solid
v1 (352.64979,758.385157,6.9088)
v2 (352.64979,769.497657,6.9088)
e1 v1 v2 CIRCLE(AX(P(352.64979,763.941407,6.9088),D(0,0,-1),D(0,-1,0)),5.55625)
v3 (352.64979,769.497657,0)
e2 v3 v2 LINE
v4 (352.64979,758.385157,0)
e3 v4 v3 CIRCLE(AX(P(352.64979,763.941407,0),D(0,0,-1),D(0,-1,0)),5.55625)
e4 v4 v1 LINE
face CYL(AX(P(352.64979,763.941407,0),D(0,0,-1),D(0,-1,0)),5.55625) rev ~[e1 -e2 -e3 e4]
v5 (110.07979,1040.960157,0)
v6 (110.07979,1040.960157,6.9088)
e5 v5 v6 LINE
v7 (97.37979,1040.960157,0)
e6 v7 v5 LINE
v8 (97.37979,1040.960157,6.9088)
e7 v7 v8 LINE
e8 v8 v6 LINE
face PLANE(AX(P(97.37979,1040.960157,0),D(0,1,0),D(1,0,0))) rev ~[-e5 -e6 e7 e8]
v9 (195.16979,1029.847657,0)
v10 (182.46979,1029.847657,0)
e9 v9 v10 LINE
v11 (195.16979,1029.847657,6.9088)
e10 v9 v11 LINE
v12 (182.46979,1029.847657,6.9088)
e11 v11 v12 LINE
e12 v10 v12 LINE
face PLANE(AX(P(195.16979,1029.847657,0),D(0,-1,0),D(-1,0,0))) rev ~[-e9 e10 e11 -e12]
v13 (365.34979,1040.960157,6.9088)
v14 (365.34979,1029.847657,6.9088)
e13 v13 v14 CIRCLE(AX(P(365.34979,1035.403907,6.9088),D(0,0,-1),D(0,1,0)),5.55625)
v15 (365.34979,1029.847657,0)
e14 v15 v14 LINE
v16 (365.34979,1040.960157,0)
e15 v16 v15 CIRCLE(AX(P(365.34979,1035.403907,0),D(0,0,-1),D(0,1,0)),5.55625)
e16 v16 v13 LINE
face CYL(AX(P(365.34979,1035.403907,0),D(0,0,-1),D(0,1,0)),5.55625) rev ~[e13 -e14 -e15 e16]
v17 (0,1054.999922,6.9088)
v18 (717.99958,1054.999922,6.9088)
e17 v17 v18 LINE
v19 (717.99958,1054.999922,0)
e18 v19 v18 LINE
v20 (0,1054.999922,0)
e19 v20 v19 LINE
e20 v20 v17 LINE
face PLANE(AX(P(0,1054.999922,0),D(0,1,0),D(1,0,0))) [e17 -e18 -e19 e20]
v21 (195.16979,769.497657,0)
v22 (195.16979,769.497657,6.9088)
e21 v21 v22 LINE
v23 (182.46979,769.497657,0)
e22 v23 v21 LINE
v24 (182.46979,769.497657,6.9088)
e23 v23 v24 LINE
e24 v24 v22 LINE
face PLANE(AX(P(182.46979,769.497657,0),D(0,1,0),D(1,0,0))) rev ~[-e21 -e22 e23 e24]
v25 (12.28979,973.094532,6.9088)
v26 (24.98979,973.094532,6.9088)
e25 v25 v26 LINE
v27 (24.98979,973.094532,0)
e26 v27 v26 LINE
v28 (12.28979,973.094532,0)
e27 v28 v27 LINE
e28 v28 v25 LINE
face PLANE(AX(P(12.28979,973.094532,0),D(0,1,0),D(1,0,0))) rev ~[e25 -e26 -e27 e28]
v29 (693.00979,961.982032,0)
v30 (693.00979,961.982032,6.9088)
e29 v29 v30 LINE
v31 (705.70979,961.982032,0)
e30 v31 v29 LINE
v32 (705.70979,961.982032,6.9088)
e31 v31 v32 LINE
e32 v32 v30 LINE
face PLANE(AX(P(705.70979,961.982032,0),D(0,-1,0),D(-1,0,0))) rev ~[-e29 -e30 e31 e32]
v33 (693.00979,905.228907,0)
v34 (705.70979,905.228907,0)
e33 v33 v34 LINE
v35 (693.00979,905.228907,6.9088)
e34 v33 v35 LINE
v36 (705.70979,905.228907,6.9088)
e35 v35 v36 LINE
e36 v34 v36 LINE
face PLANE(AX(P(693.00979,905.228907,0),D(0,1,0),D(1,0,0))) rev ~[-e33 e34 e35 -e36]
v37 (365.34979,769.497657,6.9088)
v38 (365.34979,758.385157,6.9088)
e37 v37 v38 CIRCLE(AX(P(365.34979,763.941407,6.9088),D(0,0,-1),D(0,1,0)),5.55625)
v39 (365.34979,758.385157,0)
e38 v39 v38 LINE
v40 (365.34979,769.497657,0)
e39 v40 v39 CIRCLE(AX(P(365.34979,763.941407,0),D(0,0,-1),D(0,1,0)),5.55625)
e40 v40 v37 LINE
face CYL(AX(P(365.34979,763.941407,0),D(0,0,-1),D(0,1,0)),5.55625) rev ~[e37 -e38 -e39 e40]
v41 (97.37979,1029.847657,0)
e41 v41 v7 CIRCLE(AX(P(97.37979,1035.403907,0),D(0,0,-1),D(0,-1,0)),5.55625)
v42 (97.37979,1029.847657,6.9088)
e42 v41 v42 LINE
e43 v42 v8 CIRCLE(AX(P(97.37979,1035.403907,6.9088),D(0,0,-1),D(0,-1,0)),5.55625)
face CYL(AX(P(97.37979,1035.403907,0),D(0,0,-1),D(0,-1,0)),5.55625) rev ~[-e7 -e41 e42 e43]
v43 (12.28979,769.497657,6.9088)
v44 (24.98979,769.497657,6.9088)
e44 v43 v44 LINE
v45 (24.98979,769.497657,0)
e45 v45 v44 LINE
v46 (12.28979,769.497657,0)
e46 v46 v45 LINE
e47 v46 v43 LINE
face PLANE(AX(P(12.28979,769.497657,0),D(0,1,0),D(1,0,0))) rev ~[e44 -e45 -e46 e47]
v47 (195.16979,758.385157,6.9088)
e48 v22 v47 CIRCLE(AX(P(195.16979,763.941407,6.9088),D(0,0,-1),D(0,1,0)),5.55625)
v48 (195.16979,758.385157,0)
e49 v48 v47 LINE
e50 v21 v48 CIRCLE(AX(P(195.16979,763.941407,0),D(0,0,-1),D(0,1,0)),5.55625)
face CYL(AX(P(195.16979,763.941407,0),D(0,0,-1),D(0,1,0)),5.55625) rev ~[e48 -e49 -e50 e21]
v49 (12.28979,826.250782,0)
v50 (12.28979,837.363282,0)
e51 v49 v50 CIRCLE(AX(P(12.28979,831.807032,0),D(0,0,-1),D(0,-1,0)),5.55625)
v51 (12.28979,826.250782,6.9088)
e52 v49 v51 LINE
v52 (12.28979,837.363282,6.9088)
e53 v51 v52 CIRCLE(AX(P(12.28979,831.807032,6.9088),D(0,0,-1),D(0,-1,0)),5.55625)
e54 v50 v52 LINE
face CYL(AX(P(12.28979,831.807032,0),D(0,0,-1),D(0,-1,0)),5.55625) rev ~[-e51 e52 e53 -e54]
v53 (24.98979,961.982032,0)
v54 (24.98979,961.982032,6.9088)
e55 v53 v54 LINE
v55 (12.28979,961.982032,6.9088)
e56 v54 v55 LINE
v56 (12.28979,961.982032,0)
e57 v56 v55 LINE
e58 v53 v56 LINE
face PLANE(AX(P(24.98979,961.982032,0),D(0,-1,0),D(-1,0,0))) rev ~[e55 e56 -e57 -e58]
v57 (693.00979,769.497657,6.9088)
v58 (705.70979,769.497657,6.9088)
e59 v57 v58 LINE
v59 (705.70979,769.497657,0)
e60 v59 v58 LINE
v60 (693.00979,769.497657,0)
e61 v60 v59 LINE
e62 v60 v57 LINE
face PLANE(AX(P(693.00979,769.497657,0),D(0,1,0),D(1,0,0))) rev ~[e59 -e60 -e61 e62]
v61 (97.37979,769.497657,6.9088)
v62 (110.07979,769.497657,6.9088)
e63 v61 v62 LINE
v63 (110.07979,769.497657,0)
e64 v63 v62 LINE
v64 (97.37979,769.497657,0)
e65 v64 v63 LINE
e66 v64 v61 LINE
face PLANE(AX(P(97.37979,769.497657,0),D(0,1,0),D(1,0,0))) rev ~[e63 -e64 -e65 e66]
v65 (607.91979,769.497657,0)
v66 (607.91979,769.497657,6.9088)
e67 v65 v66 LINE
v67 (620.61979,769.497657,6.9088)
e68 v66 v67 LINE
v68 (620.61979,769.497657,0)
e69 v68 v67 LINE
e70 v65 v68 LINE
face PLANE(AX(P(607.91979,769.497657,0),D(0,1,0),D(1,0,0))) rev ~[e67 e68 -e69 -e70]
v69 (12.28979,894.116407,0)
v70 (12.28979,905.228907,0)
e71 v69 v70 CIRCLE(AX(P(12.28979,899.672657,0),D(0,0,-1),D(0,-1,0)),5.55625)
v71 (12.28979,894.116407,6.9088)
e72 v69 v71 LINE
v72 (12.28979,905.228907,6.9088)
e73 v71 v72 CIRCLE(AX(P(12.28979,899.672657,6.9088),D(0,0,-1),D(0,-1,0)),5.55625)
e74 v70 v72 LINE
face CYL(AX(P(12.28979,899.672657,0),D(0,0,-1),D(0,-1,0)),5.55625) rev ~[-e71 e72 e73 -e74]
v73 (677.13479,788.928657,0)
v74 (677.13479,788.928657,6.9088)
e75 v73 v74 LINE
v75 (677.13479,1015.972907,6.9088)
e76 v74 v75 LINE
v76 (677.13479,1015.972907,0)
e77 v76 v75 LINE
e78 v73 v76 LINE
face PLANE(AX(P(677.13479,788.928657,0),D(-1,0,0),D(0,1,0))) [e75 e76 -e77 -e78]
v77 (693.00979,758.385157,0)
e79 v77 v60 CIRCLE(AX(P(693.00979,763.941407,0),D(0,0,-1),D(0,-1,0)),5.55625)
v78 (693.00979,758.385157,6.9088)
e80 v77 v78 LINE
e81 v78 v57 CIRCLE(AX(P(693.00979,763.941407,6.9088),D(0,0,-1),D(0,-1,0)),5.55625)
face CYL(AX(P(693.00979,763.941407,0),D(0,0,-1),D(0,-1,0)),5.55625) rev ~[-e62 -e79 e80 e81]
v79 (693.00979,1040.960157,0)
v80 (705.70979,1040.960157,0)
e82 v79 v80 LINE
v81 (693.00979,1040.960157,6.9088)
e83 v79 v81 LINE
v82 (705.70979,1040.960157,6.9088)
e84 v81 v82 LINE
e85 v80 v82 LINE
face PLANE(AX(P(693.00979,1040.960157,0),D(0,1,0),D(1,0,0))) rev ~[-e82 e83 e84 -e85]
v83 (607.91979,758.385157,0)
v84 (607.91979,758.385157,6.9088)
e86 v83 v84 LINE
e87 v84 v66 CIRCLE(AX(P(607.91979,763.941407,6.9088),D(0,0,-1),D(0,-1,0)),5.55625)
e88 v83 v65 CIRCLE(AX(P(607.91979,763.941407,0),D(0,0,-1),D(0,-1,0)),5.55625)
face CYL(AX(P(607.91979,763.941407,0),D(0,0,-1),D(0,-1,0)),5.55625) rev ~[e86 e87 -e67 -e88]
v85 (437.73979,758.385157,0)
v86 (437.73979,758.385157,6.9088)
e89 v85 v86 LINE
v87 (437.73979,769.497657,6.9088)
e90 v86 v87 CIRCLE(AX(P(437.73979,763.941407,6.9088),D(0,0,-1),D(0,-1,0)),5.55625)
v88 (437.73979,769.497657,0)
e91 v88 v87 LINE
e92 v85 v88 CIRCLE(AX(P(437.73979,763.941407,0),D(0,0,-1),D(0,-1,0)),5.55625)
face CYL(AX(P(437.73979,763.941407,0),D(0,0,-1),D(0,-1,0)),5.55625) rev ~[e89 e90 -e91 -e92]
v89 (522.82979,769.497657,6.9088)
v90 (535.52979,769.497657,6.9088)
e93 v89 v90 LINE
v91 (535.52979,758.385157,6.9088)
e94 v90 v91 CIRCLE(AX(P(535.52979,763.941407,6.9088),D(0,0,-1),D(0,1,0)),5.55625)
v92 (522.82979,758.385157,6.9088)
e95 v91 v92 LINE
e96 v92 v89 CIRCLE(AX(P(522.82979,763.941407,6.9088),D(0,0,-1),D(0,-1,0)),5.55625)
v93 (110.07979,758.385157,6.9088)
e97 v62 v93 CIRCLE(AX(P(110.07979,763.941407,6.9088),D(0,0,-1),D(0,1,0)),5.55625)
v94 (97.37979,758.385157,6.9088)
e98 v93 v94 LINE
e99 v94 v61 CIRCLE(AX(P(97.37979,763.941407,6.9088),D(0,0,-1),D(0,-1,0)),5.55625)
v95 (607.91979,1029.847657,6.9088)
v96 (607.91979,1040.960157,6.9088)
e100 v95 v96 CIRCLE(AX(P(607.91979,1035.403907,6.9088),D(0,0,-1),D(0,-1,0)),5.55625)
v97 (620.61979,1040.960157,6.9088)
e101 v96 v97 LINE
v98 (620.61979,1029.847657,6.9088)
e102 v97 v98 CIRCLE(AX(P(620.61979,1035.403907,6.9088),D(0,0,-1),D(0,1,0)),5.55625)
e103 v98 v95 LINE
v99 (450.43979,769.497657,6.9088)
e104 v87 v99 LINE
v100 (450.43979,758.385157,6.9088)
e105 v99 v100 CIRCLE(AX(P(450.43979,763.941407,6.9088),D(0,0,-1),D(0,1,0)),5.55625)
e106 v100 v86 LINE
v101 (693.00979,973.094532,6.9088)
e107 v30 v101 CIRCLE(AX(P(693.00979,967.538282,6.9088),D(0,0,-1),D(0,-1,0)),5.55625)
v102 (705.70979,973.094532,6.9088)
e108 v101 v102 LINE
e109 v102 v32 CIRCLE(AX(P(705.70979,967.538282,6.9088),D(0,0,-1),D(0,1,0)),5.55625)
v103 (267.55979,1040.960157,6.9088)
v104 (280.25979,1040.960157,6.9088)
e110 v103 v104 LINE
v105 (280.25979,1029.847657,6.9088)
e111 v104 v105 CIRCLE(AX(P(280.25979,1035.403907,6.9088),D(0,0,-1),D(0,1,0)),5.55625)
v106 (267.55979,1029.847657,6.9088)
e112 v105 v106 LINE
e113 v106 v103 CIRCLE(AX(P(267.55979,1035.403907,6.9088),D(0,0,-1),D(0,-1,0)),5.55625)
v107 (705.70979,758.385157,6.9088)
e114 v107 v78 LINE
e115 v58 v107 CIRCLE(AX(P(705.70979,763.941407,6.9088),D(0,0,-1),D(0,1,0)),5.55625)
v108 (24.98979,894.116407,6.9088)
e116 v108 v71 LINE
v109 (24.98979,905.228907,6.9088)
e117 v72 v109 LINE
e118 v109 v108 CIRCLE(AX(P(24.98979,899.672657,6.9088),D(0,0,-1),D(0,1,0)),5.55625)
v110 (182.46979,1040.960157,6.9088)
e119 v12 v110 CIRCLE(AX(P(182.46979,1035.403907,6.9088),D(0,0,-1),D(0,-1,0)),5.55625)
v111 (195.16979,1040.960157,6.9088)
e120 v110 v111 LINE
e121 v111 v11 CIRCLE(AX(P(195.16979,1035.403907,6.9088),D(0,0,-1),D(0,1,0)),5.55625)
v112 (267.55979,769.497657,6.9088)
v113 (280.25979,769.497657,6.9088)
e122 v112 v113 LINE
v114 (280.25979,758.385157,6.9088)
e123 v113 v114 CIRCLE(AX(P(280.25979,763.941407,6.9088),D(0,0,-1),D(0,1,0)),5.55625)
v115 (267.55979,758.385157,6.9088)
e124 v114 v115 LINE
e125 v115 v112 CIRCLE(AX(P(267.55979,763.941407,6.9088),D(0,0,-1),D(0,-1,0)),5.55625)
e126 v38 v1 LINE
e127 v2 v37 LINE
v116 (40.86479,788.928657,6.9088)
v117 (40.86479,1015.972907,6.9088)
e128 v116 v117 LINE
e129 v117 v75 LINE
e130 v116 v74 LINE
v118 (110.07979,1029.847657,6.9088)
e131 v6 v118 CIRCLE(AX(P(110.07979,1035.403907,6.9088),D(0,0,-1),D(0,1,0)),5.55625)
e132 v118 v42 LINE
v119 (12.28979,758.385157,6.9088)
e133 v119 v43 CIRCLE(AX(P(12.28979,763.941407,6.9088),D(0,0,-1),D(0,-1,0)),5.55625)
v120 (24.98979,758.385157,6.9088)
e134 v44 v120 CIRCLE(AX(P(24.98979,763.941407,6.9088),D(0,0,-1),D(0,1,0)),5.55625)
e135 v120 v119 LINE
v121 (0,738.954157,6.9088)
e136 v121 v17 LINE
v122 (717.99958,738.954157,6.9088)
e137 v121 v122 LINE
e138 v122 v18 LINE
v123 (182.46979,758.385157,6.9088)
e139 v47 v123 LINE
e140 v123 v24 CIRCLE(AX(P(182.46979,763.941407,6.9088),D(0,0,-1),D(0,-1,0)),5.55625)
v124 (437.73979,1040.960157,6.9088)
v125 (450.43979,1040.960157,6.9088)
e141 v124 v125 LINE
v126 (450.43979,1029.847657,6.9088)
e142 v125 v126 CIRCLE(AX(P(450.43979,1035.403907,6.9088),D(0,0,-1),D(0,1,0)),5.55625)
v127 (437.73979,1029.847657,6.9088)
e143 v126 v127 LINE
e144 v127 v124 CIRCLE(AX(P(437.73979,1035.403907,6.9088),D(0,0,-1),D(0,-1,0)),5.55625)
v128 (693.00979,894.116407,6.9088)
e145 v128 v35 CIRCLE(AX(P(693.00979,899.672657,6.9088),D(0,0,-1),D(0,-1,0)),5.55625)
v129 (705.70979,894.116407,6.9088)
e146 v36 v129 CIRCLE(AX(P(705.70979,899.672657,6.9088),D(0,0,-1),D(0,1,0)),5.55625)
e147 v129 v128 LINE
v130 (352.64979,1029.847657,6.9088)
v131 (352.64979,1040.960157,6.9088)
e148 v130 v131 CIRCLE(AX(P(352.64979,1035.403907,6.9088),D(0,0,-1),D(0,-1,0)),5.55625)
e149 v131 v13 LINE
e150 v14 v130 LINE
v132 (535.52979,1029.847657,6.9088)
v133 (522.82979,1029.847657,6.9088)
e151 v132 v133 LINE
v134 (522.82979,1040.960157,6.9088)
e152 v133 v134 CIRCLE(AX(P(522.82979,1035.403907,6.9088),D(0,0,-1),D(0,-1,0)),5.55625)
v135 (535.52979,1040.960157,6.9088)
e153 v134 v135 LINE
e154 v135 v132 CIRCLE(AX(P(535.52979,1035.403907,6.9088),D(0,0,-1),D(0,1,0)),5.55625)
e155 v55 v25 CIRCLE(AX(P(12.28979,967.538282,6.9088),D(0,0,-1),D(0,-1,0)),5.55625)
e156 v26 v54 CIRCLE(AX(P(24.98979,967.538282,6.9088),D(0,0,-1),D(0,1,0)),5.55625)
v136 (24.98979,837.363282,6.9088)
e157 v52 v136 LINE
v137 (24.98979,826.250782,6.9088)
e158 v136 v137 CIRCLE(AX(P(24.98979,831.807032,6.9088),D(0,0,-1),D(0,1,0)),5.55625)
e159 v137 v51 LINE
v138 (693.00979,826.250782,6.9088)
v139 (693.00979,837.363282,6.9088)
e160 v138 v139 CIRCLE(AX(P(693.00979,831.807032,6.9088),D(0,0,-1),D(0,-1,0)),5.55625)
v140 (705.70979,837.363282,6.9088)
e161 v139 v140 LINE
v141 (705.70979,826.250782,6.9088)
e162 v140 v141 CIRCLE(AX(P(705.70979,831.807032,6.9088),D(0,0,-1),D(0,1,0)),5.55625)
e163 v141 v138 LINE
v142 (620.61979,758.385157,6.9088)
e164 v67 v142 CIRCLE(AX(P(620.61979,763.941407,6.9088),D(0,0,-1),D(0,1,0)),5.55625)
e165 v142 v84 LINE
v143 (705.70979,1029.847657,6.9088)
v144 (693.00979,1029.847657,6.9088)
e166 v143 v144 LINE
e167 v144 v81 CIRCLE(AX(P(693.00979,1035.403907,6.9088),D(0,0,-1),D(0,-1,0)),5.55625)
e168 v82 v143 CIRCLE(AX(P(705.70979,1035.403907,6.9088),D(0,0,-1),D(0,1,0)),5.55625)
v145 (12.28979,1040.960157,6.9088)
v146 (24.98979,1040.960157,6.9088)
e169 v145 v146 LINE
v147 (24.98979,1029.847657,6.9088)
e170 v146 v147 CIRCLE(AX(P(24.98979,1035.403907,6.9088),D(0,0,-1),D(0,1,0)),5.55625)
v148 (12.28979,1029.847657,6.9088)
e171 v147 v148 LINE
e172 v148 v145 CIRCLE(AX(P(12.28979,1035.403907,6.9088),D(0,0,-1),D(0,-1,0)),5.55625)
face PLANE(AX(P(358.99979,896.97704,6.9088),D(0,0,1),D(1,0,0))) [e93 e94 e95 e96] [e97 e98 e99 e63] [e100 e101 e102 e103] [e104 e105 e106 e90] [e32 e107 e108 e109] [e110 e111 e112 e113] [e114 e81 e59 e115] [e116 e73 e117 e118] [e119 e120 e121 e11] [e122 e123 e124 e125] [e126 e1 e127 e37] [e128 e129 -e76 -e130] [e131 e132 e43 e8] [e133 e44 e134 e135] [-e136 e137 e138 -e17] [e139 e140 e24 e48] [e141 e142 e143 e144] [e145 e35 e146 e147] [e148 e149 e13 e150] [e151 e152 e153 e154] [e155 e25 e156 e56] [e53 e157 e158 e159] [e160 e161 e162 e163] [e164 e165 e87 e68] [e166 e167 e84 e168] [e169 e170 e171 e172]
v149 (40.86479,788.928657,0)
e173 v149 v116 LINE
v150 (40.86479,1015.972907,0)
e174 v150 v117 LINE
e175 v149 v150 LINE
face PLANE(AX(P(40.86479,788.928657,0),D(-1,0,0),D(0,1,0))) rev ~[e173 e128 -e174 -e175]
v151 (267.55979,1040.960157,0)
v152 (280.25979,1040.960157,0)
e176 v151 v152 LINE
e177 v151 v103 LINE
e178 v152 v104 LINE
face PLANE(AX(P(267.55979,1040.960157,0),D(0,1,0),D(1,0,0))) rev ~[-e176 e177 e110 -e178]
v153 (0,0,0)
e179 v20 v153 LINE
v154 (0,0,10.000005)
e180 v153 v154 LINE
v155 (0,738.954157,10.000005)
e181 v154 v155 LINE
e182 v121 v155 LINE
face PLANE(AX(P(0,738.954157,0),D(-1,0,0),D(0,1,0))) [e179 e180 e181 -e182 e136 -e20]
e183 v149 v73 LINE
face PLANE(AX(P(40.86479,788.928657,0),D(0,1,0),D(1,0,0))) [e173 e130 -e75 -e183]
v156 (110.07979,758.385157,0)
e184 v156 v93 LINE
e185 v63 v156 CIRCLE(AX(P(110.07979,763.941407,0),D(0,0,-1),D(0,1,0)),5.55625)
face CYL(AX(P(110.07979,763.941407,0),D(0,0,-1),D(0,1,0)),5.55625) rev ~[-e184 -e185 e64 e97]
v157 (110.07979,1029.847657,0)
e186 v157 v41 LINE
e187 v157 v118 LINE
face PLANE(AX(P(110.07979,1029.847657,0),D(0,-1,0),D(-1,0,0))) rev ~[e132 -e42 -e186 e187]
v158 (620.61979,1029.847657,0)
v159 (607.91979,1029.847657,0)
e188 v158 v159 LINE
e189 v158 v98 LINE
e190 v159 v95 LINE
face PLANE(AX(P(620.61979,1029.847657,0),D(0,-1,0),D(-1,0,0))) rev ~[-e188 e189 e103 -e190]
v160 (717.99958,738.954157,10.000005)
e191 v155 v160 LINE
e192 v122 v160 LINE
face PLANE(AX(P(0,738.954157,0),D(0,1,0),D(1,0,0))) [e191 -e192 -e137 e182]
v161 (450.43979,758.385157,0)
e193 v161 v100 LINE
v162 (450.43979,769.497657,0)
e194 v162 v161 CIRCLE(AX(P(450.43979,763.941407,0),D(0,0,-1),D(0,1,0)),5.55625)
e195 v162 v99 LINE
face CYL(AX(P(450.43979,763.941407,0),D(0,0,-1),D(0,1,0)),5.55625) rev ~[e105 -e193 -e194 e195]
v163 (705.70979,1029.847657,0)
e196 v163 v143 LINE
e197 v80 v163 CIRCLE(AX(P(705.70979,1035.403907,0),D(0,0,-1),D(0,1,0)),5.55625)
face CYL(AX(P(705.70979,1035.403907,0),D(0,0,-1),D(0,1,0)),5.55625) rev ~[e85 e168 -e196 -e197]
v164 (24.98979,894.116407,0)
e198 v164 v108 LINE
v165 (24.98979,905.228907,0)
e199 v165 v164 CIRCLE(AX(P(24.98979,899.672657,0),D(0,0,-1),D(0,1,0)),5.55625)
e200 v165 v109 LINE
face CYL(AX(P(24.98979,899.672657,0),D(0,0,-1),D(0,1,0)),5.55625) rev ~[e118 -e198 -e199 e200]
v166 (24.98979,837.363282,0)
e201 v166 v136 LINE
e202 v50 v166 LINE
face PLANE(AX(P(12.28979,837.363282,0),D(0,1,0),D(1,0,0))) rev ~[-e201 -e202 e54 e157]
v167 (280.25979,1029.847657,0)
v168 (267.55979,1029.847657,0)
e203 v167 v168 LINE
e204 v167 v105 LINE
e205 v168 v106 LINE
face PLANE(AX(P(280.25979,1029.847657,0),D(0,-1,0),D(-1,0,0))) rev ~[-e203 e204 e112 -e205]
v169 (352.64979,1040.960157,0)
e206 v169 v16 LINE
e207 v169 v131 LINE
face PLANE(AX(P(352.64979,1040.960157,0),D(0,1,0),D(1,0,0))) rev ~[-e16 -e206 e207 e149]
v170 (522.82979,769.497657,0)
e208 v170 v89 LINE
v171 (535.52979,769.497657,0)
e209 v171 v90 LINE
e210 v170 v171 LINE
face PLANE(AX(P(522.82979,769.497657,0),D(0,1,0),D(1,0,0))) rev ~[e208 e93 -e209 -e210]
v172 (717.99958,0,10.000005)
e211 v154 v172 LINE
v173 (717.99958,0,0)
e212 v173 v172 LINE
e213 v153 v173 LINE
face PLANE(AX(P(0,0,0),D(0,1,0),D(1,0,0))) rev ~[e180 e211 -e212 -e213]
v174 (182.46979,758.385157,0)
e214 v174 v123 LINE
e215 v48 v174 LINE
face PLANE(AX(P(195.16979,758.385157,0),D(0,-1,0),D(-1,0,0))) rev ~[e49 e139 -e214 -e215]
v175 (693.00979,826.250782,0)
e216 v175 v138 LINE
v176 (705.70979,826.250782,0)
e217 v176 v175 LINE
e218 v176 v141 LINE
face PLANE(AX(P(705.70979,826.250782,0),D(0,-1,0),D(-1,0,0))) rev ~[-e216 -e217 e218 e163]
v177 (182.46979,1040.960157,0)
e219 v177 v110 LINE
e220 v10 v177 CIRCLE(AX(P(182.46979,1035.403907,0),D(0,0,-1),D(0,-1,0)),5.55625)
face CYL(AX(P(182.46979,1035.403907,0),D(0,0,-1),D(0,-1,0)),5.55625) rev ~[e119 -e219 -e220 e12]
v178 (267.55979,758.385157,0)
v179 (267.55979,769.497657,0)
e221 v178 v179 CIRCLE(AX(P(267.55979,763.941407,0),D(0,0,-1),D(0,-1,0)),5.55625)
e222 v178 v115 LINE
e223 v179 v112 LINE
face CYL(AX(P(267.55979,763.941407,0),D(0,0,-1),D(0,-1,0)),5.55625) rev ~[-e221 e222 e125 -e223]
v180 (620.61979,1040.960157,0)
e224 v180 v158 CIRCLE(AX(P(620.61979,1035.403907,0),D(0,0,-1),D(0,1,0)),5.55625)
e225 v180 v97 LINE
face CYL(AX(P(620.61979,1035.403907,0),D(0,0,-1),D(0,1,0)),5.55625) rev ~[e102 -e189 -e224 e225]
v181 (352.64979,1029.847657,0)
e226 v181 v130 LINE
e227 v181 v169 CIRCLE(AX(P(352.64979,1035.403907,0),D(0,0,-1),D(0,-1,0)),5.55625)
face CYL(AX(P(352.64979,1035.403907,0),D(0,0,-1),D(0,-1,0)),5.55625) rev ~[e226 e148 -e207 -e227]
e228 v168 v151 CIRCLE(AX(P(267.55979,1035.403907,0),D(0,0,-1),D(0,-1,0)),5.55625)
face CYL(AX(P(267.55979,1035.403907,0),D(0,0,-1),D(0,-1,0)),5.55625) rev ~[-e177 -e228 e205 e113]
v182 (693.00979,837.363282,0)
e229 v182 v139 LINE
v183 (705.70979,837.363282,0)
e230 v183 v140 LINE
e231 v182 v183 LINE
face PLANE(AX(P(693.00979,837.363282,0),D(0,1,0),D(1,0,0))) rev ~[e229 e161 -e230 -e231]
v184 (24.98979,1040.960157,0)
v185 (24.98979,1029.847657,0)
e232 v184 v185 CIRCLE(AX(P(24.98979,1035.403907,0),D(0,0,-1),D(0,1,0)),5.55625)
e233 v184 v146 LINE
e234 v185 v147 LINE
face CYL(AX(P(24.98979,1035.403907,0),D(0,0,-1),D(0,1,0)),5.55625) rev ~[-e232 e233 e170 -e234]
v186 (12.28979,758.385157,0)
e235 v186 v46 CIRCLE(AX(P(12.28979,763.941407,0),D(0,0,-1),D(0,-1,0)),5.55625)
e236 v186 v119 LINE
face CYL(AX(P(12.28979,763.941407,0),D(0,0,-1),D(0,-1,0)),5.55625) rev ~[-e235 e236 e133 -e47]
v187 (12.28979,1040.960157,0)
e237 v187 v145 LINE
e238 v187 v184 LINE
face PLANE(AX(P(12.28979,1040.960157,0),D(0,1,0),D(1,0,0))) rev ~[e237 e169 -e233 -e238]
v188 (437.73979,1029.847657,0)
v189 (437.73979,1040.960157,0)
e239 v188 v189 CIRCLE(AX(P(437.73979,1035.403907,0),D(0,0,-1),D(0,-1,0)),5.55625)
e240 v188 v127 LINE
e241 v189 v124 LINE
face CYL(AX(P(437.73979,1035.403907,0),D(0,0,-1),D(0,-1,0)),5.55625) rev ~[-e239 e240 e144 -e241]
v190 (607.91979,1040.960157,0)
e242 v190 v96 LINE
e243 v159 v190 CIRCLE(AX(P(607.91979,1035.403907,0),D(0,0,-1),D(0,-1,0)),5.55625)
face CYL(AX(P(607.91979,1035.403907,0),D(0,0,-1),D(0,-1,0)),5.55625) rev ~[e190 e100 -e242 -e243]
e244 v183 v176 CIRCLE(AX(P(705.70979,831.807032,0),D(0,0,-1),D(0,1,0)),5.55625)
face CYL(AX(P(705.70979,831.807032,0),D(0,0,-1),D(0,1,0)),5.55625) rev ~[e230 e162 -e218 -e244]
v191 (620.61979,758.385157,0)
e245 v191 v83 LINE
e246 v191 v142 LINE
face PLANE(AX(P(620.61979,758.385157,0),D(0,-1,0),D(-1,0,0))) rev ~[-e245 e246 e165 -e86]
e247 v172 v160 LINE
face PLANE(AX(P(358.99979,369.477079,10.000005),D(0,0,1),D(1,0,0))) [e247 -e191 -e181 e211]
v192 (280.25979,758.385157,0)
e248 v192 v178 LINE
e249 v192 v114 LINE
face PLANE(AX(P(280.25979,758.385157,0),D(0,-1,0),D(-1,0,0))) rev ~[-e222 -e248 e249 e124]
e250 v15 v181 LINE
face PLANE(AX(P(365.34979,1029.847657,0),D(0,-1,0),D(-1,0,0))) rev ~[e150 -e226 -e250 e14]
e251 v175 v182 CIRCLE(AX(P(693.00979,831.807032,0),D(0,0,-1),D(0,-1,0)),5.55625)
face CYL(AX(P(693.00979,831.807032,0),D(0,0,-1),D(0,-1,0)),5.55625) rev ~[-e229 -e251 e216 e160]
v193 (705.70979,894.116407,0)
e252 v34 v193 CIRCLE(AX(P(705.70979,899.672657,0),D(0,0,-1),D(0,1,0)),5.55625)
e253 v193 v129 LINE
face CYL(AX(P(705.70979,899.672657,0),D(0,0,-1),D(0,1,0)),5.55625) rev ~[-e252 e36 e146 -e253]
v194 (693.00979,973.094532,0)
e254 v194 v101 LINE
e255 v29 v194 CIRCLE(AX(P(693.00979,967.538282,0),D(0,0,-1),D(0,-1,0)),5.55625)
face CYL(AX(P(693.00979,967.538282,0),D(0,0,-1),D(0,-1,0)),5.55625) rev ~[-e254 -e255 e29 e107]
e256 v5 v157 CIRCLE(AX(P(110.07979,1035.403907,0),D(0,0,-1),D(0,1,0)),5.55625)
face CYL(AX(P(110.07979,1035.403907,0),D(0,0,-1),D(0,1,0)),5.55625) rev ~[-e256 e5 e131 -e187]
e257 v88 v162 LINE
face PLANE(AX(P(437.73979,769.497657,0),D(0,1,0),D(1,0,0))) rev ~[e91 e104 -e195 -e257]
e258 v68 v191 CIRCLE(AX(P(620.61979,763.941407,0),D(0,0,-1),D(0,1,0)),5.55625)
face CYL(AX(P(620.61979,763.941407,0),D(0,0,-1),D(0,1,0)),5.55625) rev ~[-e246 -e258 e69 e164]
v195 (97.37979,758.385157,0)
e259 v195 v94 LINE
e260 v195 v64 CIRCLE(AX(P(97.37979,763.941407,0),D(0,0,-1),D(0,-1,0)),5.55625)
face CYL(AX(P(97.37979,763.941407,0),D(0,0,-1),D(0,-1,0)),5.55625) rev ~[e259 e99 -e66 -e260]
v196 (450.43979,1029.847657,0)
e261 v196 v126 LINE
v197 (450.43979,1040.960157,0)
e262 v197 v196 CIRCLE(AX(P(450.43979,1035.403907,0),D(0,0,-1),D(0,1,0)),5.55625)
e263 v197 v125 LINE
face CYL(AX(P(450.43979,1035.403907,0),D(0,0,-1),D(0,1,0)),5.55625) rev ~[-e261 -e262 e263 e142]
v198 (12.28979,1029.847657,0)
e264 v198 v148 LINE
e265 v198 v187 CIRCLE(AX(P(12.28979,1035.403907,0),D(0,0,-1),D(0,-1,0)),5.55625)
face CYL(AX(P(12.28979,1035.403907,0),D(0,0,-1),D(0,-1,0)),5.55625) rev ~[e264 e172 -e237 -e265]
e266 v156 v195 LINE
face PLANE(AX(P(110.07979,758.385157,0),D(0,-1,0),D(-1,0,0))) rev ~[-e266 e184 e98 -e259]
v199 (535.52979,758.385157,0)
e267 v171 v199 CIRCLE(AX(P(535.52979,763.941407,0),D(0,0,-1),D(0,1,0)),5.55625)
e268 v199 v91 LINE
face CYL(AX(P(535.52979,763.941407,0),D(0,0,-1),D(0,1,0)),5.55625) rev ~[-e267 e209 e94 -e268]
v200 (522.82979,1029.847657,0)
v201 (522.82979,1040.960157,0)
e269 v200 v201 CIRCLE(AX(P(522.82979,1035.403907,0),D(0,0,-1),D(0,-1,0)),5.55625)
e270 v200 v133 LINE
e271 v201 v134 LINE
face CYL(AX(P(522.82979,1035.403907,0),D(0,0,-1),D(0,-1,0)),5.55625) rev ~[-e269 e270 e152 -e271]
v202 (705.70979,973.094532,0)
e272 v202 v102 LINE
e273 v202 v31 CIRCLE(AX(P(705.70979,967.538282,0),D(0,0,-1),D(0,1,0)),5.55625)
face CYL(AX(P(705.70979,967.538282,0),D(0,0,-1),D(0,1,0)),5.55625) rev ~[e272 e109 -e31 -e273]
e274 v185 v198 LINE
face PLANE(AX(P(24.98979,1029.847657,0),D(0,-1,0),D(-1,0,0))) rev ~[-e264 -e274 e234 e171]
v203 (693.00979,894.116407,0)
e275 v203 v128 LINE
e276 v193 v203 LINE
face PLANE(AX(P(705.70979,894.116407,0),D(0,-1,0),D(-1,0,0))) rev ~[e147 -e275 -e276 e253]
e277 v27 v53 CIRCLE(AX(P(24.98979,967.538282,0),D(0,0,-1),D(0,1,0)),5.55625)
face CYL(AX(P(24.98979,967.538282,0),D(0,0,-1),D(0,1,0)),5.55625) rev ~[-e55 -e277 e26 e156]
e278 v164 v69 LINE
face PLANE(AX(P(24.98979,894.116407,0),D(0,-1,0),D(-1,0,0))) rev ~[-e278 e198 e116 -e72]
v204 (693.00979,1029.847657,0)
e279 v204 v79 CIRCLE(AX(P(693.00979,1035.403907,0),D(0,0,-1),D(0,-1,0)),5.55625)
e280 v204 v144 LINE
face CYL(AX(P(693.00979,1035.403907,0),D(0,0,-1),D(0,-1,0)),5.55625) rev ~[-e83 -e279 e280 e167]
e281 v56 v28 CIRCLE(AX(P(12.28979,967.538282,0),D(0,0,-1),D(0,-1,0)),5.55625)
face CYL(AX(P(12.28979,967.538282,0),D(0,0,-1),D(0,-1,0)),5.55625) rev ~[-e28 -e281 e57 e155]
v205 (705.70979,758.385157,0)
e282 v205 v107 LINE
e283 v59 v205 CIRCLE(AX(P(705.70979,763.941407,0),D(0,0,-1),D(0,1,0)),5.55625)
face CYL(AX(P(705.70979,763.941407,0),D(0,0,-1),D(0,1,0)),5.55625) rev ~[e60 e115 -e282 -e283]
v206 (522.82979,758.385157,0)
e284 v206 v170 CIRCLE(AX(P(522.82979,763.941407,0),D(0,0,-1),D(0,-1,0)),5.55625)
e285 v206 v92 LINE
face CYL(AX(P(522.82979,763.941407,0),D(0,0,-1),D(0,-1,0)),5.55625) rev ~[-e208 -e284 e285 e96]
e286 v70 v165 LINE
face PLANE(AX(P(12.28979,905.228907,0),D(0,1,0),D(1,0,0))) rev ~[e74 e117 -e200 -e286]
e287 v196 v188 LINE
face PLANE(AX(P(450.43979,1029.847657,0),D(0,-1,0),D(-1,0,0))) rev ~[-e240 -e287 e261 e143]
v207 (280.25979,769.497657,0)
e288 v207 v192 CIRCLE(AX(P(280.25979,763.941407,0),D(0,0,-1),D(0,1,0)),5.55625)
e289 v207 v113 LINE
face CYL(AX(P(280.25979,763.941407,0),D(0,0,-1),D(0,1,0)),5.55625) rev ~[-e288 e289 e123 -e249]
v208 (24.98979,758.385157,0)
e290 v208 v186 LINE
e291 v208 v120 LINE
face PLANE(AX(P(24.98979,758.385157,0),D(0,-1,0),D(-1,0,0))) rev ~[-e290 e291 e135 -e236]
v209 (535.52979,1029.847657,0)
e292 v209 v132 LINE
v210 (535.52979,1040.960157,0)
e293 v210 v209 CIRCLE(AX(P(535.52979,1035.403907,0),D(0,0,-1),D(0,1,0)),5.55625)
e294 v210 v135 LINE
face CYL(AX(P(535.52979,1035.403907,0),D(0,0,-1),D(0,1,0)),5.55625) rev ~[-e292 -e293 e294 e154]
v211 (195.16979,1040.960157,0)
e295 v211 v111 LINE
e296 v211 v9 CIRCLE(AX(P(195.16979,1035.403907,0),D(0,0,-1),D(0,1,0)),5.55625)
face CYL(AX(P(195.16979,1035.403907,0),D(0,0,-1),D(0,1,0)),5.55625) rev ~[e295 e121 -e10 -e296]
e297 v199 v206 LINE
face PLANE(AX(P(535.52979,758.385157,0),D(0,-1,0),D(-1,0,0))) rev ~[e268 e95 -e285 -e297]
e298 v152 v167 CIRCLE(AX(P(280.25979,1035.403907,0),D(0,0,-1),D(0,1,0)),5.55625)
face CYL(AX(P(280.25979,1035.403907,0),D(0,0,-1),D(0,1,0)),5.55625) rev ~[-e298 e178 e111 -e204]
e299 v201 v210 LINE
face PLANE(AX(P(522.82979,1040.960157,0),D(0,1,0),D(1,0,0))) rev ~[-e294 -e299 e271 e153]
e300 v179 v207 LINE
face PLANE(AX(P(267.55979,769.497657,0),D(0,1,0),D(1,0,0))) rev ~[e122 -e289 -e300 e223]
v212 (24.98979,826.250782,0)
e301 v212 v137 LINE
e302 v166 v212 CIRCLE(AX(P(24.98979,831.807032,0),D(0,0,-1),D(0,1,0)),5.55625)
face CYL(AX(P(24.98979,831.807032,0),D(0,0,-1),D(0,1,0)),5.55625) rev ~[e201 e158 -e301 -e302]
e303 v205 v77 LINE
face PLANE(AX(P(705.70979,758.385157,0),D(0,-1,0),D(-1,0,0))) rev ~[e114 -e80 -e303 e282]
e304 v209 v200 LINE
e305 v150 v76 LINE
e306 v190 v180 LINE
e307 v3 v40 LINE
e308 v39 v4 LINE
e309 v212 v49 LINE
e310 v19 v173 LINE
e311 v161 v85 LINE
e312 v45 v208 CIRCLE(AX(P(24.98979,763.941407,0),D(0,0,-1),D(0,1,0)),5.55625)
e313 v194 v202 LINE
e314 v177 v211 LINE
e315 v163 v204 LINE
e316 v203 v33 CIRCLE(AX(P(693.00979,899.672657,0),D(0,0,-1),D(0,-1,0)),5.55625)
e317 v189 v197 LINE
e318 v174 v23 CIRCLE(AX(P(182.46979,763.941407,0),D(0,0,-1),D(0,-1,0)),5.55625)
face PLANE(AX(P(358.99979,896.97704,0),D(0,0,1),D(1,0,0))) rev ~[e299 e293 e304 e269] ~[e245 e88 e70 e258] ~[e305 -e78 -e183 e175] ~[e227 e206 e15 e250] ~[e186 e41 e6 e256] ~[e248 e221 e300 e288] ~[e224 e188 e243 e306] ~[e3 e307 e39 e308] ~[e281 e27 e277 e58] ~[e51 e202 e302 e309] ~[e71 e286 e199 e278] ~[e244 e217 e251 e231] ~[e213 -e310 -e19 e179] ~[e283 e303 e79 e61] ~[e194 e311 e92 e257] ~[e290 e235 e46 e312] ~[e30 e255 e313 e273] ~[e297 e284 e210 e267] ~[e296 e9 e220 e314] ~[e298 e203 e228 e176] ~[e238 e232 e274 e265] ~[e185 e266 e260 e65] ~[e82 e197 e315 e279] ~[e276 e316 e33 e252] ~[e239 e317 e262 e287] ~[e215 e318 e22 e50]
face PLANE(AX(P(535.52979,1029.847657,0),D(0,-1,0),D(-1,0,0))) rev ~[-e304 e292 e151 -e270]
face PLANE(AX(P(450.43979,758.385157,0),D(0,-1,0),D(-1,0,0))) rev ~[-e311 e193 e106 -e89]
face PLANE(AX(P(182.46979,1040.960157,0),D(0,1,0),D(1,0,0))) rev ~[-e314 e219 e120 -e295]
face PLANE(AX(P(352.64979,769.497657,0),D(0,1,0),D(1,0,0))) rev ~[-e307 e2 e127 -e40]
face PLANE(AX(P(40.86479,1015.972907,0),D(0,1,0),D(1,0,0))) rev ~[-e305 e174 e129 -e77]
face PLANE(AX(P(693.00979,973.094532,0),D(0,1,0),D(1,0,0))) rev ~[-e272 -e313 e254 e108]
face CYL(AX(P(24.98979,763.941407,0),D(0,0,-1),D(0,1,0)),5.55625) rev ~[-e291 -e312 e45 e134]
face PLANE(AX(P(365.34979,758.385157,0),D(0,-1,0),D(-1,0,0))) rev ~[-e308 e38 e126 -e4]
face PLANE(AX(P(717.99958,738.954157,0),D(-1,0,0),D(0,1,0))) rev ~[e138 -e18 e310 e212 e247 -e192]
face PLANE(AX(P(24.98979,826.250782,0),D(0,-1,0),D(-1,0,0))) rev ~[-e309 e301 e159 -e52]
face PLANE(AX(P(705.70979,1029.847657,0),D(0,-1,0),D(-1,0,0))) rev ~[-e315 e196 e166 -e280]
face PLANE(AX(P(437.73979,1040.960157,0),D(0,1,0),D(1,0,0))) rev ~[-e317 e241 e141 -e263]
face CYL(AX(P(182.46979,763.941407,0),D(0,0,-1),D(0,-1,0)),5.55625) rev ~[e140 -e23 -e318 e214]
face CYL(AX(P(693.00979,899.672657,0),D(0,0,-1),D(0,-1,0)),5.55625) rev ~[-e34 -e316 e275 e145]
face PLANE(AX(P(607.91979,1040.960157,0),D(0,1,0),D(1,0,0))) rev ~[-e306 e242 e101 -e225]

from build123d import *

# Parameters (mm, degrees)
F0_W     = 717.99958
F0_H     = 738.954157
F1_DEPTH = 10.000005
F0_H_2   = 316.045765
F0_W_2   = 636.27
F0_H_3   = 227.04425
F2_DEPTH = 6.9088


with BuildPart() as f1:
    # F0 (on Top) → F1 (new body)
    with BuildSketch(Plane.XY):
        with Locations((358.99979, 369.477079)):
            Rectangle(F0_W, F0_H)
    extrude(amount=F1_DEPTH)

    # F0 (on Top) → F2 (join)
    with BuildSketch(Plane.XY):
        with Locations((358.99979, 896.97704)):
            Rectangle(F0_W, F0_H_2)
        with BuildLine():
            Line((12.28979, 769.497657), (24.98979, 769.497657))
            ThreePointArc((24.98979, 769.497657), (30.54604, 763.941407), (24.98979, 758.385157))
            Line((24.98979, 758.385157), (12.28979, 758.385157))
            ThreePointArc((12.28979, 758.385157), (6.73354, 763.941407), (12.28979, 769.497657))
        make_face(mode=Mode.SUBTRACT)
        with BuildLine():
            ThreePointArc((97.37979, 758.385157), (91.82354, 763.941407), (97.37979, 769.497657))
            Line((97.37979, 769.497657), (110.07979, 769.497657))
            ThreePointArc((110.07979, 769.497657), (115.63604, 763.941407), (110.07979, 758.385157))
            Line((110.07979, 758.385157), (97.37979, 758.385157))
        make_face(mode=Mode.SUBTRACT)
        with BuildLine():
            Line((195.16979, 758.385157), (182.46979, 758.385157))
            ThreePointArc((182.46979, 758.385157), (176.91354, 763.941407), (182.46979, 769.497657))
            Line((182.46979, 769.497657), (195.16979, 769.497657))
            ThreePointArc((195.16979, 769.497657), (200.72604, 763.941407), (195.16979, 758.385157))
        make_face(mode=Mode.SUBTRACT)
        with BuildLine():
            ThreePointArc((267.55979, 758.385157), (262.00354, 763.941407), (267.55979, 769.497657))
            Line((267.55979, 769.497657), (280.25979, 769.497657))
            ThreePointArc((280.25979, 769.497657), (285.81604, 763.941407), (280.25979, 758.385157))
            Line((280.25979, 758.385157), (267.55979, 758.385157))
        make_face(mode=Mode.SUBTRACT)
        with BuildLine():
            ThreePointArc((24.98979, 837.363282), (30.54604, 831.807032), (24.98979, 826.250782))
            Line((24.98979, 826.250782), (12.28979, 826.250782))
            ThreePointArc((12.28979, 826.250782), (6.73354, 831.807032), (12.28979, 837.363282))
            Line((12.28979, 837.363282), (24.98979, 837.363282))
        make_face(mode=Mode.SUBTRACT)
        with BuildLine():
            Line((12.28979, 905.228907), (24.98979, 905.228907))
            ThreePointArc((24.98979, 905.228907), (30.54604, 899.672657), (24.98979, 894.116407))
            Line((24.98979, 894.116407), (12.28979, 894.116407))
            ThreePointArc((12.28979, 894.116407), (6.73354, 899.672657), (12.28979, 905.228907))
        make_face(mode=Mode.SUBTRACT)
        with BuildLine():
            Line((12.28979, 973.094532), (24.98979, 973.094532))
            ThreePointArc((24.98979, 973.094532), (30.54604, 967.538282), (24.98979, 961.982032))
            Line((24.98979, 961.982032), (12.28979, 961.982032))
            ThreePointArc((12.28979, 961.982032), (6.73354, 967.538282), (12.28979, 973.094532))
        make_face(mode=Mode.SUBTRACT)
        with BuildLine():
            ThreePointArc((12.28979, 1029.847657), (6.73354, 1035.403907), (12.28979, 1040.960157))
            Line((12.28979, 1040.960157), (24.98979, 1040.960157))
            ThreePointArc((24.98979, 1040.960157), (30.54604, 1035.403907), (24.98979, 1029.847657))
            Line((24.98979, 1029.847657), (12.28979, 1029.847657))
        make_face(mode=Mode.SUBTRACT)
        with BuildLine():
            Line((97.37979, 1040.960157), (110.07979, 1040.960157))
            ThreePointArc((110.07979, 1040.960157), (115.63604, 1035.403907), (110.07979, 1029.847657))
            Line((110.07979, 1029.847657), (97.37979, 1029.847657))
            ThreePointArc((97.37979, 1029.847657), (91.82354, 1035.403907), (97.37979, 1040.960157))
        make_face(mode=Mode.SUBTRACT)
        with BuildLine():
            ThreePointArc((195.16979, 1040.960157), (200.72604, 1035.403907), (195.16979, 1029.847657))
            Line((195.16979, 1029.847657), (182.46979, 1029.847657))
            ThreePointArc((182.46979, 1029.847657), (176.91354, 1035.403907), (182.46979, 1040.960157))
            Line((182.46979, 1040.960157), (195.16979, 1040.960157))
        make_face(mode=Mode.SUBTRACT)
        with BuildLine():
            ThreePointArc((267.55979, 1029.847657), (262.00354, 1035.403907), (267.55979, 1040.960157))
            Line((267.55979, 1040.960157), (280.25979, 1040.960157))
            ThreePointArc((280.25979, 1040.960157), (285.81604, 1035.403907), (280.25979, 1029.847657))
            Line((280.25979, 1029.847657), (267.55979, 1029.847657))
        make_face(mode=Mode.SUBTRACT)
        with BuildLine():
            ThreePointArc((352.64979, 758.385157), (347.09354, 763.941407), (352.64979, 769.497657))
            Line((352.64979, 769.497657), (365.34979, 769.497657))
            ThreePointArc((365.34979, 769.497657), (370.90604, 763.941407), (365.34979, 758.385157))
            Line((365.34979, 758.385157), (352.64979, 758.385157))
        make_face(mode=Mode.SUBTRACT)
        with BuildLine():
            Line((437.73979, 769.497657), (450.43979, 769.497657))
            ThreePointArc((450.43979, 769.497657), (455.99604, 763.941407), (450.43979, 758.385157))
            Line((450.43979, 758.385157), (437.73979, 758.385157))
            ThreePointArc((437.73979, 758.385157), (432.18354, 763.941407), (437.73979, 769.497657))
        make_face(mode=Mode.SUBTRACT)
        with BuildLine():
            Line((535.52979, 758.385157), (522.82979, 758.385157))
            ThreePointArc((522.82979, 758.385157), (517.27354, 763.941407), (522.82979, 769.497657))
            Line((522.82979, 769.497657), (535.52979, 769.497657))
            ThreePointArc((535.52979, 769.497657), (541.08604, 763.941407), (535.52979, 758.385157))
        make_face(mode=Mode.SUBTRACT)
        with BuildLine():
            Line((620.61979, 758.385157), (607.91979, 758.385157))
            ThreePointArc((607.91979, 758.385157), (602.36354, 763.941407), (607.91979, 769.497657))
            Line((607.91979, 769.497657), (620.61979, 769.497657))
            ThreePointArc((620.61979, 769.497657), (626.17604, 763.941407), (620.61979, 758.385157))
        make_face(mode=Mode.SUBTRACT)
        with BuildLine():
            Line((705.70979, 758.385157), (693.00979, 758.385157))
            ThreePointArc((693.00979, 758.385157), (687.45354, 763.941407), (693.00979, 769.497657))
            Line((693.00979, 769.497657), (705.70979, 769.497657))
            ThreePointArc((705.70979, 769.497657), (711.26604, 763.941407), (705.70979, 758.385157))
        make_face(mode=Mode.SUBTRACT)
        with Locations((358.99979, 902.450782)):
            Rectangle(F0_W_2, F0_H_3, mode=Mode.SUBTRACT)
        with BuildLine():
            Line((365.34979, 1029.847657), (352.64979, 1029.847657))
            ThreePointArc((352.64979, 1029.847657), (347.09354, 1035.403907), (352.64979, 1040.960157))
            Line((352.64979, 1040.960157), (365.34979, 1040.960157))
            ThreePointArc((365.34979, 1040.960157), (370.90604, 1035.403907), (365.34979, 1029.847657))
        make_face(mode=Mode.SUBTRACT)
        with BuildLine():
            ThreePointArc((450.43979, 1040.960157), (455.99604, 1035.403907), (450.43979, 1029.847657))
            Line((450.43979, 1029.847657), (437.73979, 1029.847657))
            ThreePointArc((437.73979, 1029.847657), (432.18354, 1035.403907), (437.73979, 1040.960157))
            Line((437.73979, 1040.960157), (450.43979, 1040.960157))
        make_face(mode=Mode.SUBTRACT)
        with BuildLine():
            Line((535.52979, 1029.847657), (522.82979, 1029.847657))
            ThreePointArc((522.82979, 1029.847657), (517.27354, 1035.403907), (522.82979, 1040.960157))
            Line((522.82979, 1040.960157), (535.52979, 1040.960157))
            ThreePointArc((535.52979, 1040.960157), (541.08604, 1035.403907), (535.52979, 1029.847657))
        make_face(mode=Mode.SUBTRACT)
        with BuildLine():
            ThreePointArc((693.00979, 826.250782), (687.45354, 831.807032), (693.00979, 837.363282))
            Line((693.00979, 837.363282), (705.70979, 837.363282))
            ThreePointArc((705.70979, 837.363282), (711.26604, 831.807032), (705.70979, 826.250782))
            Line((705.70979, 826.250782), (693.00979, 826.250782))
        make_face(mode=Mode.SUBTRACT)
        with BuildLine():
            ThreePointArc((693.00979, 894.116407), (687.45354, 899.672657), (693.00979, 905.228907))
            Line((693.00979, 905.228907), (705.70979, 905.228907))
            ThreePointArc((705.70979, 905.228907), (711.26604, 899.672657), (705.70979, 894.116407))
            Line((705.70979, 894.116407), (693.00979, 894.116407))
        make_face(mode=Mode.SUBTRACT)
        with BuildLine():
            ThreePointArc((607.91979, 1029.847657), (602.36354, 1035.403907), (607.91979, 1040.960157))
            Line((607.91979, 1040.960157), (620.61979, 1040.960157))
            ThreePointArc((620.61979, 1040.960157), (626.17604, 1035.403907), (620.61979, 1029.847657))
            Line((620.61979, 1029.847657), (607.91979, 1029.847657))
        make_face(mode=Mode.SUBTRACT)
        with BuildLine():
            ThreePointArc((693.00979, 961.982032), (687.45354, 967.538282), (693.00979, 973.094532))
            Line((693.00979, 973.094532), (705.70979, 973.094532))
            ThreePointArc((705.70979, 973.094532), (711.26604, 967.538282), (705.70979, 961.982032))
            Line((705.70979, 961.982032), (693.00979, 961.982032))
        make_face(mode=Mode.SUBTRACT)
        with BuildLine():
            Line((705.70979, 1029.847657), (693.00979, 1029.847657))
            ThreePointArc((693.00979, 1029.847657), (687.45354, 1035.403907), (693.00979, 1040.960157))
            Line((693.00979, 1040.960157), (705.70979, 1040.960157))
            ThreePointArc((705.70979, 1040.960157), (711.26604, 1035.403907), (705.70979, 1029.847657))
        make_face(mode=Mode.SUBTRACT)
    extrude(amount=F2_DEPTH)


solid = f1.part
